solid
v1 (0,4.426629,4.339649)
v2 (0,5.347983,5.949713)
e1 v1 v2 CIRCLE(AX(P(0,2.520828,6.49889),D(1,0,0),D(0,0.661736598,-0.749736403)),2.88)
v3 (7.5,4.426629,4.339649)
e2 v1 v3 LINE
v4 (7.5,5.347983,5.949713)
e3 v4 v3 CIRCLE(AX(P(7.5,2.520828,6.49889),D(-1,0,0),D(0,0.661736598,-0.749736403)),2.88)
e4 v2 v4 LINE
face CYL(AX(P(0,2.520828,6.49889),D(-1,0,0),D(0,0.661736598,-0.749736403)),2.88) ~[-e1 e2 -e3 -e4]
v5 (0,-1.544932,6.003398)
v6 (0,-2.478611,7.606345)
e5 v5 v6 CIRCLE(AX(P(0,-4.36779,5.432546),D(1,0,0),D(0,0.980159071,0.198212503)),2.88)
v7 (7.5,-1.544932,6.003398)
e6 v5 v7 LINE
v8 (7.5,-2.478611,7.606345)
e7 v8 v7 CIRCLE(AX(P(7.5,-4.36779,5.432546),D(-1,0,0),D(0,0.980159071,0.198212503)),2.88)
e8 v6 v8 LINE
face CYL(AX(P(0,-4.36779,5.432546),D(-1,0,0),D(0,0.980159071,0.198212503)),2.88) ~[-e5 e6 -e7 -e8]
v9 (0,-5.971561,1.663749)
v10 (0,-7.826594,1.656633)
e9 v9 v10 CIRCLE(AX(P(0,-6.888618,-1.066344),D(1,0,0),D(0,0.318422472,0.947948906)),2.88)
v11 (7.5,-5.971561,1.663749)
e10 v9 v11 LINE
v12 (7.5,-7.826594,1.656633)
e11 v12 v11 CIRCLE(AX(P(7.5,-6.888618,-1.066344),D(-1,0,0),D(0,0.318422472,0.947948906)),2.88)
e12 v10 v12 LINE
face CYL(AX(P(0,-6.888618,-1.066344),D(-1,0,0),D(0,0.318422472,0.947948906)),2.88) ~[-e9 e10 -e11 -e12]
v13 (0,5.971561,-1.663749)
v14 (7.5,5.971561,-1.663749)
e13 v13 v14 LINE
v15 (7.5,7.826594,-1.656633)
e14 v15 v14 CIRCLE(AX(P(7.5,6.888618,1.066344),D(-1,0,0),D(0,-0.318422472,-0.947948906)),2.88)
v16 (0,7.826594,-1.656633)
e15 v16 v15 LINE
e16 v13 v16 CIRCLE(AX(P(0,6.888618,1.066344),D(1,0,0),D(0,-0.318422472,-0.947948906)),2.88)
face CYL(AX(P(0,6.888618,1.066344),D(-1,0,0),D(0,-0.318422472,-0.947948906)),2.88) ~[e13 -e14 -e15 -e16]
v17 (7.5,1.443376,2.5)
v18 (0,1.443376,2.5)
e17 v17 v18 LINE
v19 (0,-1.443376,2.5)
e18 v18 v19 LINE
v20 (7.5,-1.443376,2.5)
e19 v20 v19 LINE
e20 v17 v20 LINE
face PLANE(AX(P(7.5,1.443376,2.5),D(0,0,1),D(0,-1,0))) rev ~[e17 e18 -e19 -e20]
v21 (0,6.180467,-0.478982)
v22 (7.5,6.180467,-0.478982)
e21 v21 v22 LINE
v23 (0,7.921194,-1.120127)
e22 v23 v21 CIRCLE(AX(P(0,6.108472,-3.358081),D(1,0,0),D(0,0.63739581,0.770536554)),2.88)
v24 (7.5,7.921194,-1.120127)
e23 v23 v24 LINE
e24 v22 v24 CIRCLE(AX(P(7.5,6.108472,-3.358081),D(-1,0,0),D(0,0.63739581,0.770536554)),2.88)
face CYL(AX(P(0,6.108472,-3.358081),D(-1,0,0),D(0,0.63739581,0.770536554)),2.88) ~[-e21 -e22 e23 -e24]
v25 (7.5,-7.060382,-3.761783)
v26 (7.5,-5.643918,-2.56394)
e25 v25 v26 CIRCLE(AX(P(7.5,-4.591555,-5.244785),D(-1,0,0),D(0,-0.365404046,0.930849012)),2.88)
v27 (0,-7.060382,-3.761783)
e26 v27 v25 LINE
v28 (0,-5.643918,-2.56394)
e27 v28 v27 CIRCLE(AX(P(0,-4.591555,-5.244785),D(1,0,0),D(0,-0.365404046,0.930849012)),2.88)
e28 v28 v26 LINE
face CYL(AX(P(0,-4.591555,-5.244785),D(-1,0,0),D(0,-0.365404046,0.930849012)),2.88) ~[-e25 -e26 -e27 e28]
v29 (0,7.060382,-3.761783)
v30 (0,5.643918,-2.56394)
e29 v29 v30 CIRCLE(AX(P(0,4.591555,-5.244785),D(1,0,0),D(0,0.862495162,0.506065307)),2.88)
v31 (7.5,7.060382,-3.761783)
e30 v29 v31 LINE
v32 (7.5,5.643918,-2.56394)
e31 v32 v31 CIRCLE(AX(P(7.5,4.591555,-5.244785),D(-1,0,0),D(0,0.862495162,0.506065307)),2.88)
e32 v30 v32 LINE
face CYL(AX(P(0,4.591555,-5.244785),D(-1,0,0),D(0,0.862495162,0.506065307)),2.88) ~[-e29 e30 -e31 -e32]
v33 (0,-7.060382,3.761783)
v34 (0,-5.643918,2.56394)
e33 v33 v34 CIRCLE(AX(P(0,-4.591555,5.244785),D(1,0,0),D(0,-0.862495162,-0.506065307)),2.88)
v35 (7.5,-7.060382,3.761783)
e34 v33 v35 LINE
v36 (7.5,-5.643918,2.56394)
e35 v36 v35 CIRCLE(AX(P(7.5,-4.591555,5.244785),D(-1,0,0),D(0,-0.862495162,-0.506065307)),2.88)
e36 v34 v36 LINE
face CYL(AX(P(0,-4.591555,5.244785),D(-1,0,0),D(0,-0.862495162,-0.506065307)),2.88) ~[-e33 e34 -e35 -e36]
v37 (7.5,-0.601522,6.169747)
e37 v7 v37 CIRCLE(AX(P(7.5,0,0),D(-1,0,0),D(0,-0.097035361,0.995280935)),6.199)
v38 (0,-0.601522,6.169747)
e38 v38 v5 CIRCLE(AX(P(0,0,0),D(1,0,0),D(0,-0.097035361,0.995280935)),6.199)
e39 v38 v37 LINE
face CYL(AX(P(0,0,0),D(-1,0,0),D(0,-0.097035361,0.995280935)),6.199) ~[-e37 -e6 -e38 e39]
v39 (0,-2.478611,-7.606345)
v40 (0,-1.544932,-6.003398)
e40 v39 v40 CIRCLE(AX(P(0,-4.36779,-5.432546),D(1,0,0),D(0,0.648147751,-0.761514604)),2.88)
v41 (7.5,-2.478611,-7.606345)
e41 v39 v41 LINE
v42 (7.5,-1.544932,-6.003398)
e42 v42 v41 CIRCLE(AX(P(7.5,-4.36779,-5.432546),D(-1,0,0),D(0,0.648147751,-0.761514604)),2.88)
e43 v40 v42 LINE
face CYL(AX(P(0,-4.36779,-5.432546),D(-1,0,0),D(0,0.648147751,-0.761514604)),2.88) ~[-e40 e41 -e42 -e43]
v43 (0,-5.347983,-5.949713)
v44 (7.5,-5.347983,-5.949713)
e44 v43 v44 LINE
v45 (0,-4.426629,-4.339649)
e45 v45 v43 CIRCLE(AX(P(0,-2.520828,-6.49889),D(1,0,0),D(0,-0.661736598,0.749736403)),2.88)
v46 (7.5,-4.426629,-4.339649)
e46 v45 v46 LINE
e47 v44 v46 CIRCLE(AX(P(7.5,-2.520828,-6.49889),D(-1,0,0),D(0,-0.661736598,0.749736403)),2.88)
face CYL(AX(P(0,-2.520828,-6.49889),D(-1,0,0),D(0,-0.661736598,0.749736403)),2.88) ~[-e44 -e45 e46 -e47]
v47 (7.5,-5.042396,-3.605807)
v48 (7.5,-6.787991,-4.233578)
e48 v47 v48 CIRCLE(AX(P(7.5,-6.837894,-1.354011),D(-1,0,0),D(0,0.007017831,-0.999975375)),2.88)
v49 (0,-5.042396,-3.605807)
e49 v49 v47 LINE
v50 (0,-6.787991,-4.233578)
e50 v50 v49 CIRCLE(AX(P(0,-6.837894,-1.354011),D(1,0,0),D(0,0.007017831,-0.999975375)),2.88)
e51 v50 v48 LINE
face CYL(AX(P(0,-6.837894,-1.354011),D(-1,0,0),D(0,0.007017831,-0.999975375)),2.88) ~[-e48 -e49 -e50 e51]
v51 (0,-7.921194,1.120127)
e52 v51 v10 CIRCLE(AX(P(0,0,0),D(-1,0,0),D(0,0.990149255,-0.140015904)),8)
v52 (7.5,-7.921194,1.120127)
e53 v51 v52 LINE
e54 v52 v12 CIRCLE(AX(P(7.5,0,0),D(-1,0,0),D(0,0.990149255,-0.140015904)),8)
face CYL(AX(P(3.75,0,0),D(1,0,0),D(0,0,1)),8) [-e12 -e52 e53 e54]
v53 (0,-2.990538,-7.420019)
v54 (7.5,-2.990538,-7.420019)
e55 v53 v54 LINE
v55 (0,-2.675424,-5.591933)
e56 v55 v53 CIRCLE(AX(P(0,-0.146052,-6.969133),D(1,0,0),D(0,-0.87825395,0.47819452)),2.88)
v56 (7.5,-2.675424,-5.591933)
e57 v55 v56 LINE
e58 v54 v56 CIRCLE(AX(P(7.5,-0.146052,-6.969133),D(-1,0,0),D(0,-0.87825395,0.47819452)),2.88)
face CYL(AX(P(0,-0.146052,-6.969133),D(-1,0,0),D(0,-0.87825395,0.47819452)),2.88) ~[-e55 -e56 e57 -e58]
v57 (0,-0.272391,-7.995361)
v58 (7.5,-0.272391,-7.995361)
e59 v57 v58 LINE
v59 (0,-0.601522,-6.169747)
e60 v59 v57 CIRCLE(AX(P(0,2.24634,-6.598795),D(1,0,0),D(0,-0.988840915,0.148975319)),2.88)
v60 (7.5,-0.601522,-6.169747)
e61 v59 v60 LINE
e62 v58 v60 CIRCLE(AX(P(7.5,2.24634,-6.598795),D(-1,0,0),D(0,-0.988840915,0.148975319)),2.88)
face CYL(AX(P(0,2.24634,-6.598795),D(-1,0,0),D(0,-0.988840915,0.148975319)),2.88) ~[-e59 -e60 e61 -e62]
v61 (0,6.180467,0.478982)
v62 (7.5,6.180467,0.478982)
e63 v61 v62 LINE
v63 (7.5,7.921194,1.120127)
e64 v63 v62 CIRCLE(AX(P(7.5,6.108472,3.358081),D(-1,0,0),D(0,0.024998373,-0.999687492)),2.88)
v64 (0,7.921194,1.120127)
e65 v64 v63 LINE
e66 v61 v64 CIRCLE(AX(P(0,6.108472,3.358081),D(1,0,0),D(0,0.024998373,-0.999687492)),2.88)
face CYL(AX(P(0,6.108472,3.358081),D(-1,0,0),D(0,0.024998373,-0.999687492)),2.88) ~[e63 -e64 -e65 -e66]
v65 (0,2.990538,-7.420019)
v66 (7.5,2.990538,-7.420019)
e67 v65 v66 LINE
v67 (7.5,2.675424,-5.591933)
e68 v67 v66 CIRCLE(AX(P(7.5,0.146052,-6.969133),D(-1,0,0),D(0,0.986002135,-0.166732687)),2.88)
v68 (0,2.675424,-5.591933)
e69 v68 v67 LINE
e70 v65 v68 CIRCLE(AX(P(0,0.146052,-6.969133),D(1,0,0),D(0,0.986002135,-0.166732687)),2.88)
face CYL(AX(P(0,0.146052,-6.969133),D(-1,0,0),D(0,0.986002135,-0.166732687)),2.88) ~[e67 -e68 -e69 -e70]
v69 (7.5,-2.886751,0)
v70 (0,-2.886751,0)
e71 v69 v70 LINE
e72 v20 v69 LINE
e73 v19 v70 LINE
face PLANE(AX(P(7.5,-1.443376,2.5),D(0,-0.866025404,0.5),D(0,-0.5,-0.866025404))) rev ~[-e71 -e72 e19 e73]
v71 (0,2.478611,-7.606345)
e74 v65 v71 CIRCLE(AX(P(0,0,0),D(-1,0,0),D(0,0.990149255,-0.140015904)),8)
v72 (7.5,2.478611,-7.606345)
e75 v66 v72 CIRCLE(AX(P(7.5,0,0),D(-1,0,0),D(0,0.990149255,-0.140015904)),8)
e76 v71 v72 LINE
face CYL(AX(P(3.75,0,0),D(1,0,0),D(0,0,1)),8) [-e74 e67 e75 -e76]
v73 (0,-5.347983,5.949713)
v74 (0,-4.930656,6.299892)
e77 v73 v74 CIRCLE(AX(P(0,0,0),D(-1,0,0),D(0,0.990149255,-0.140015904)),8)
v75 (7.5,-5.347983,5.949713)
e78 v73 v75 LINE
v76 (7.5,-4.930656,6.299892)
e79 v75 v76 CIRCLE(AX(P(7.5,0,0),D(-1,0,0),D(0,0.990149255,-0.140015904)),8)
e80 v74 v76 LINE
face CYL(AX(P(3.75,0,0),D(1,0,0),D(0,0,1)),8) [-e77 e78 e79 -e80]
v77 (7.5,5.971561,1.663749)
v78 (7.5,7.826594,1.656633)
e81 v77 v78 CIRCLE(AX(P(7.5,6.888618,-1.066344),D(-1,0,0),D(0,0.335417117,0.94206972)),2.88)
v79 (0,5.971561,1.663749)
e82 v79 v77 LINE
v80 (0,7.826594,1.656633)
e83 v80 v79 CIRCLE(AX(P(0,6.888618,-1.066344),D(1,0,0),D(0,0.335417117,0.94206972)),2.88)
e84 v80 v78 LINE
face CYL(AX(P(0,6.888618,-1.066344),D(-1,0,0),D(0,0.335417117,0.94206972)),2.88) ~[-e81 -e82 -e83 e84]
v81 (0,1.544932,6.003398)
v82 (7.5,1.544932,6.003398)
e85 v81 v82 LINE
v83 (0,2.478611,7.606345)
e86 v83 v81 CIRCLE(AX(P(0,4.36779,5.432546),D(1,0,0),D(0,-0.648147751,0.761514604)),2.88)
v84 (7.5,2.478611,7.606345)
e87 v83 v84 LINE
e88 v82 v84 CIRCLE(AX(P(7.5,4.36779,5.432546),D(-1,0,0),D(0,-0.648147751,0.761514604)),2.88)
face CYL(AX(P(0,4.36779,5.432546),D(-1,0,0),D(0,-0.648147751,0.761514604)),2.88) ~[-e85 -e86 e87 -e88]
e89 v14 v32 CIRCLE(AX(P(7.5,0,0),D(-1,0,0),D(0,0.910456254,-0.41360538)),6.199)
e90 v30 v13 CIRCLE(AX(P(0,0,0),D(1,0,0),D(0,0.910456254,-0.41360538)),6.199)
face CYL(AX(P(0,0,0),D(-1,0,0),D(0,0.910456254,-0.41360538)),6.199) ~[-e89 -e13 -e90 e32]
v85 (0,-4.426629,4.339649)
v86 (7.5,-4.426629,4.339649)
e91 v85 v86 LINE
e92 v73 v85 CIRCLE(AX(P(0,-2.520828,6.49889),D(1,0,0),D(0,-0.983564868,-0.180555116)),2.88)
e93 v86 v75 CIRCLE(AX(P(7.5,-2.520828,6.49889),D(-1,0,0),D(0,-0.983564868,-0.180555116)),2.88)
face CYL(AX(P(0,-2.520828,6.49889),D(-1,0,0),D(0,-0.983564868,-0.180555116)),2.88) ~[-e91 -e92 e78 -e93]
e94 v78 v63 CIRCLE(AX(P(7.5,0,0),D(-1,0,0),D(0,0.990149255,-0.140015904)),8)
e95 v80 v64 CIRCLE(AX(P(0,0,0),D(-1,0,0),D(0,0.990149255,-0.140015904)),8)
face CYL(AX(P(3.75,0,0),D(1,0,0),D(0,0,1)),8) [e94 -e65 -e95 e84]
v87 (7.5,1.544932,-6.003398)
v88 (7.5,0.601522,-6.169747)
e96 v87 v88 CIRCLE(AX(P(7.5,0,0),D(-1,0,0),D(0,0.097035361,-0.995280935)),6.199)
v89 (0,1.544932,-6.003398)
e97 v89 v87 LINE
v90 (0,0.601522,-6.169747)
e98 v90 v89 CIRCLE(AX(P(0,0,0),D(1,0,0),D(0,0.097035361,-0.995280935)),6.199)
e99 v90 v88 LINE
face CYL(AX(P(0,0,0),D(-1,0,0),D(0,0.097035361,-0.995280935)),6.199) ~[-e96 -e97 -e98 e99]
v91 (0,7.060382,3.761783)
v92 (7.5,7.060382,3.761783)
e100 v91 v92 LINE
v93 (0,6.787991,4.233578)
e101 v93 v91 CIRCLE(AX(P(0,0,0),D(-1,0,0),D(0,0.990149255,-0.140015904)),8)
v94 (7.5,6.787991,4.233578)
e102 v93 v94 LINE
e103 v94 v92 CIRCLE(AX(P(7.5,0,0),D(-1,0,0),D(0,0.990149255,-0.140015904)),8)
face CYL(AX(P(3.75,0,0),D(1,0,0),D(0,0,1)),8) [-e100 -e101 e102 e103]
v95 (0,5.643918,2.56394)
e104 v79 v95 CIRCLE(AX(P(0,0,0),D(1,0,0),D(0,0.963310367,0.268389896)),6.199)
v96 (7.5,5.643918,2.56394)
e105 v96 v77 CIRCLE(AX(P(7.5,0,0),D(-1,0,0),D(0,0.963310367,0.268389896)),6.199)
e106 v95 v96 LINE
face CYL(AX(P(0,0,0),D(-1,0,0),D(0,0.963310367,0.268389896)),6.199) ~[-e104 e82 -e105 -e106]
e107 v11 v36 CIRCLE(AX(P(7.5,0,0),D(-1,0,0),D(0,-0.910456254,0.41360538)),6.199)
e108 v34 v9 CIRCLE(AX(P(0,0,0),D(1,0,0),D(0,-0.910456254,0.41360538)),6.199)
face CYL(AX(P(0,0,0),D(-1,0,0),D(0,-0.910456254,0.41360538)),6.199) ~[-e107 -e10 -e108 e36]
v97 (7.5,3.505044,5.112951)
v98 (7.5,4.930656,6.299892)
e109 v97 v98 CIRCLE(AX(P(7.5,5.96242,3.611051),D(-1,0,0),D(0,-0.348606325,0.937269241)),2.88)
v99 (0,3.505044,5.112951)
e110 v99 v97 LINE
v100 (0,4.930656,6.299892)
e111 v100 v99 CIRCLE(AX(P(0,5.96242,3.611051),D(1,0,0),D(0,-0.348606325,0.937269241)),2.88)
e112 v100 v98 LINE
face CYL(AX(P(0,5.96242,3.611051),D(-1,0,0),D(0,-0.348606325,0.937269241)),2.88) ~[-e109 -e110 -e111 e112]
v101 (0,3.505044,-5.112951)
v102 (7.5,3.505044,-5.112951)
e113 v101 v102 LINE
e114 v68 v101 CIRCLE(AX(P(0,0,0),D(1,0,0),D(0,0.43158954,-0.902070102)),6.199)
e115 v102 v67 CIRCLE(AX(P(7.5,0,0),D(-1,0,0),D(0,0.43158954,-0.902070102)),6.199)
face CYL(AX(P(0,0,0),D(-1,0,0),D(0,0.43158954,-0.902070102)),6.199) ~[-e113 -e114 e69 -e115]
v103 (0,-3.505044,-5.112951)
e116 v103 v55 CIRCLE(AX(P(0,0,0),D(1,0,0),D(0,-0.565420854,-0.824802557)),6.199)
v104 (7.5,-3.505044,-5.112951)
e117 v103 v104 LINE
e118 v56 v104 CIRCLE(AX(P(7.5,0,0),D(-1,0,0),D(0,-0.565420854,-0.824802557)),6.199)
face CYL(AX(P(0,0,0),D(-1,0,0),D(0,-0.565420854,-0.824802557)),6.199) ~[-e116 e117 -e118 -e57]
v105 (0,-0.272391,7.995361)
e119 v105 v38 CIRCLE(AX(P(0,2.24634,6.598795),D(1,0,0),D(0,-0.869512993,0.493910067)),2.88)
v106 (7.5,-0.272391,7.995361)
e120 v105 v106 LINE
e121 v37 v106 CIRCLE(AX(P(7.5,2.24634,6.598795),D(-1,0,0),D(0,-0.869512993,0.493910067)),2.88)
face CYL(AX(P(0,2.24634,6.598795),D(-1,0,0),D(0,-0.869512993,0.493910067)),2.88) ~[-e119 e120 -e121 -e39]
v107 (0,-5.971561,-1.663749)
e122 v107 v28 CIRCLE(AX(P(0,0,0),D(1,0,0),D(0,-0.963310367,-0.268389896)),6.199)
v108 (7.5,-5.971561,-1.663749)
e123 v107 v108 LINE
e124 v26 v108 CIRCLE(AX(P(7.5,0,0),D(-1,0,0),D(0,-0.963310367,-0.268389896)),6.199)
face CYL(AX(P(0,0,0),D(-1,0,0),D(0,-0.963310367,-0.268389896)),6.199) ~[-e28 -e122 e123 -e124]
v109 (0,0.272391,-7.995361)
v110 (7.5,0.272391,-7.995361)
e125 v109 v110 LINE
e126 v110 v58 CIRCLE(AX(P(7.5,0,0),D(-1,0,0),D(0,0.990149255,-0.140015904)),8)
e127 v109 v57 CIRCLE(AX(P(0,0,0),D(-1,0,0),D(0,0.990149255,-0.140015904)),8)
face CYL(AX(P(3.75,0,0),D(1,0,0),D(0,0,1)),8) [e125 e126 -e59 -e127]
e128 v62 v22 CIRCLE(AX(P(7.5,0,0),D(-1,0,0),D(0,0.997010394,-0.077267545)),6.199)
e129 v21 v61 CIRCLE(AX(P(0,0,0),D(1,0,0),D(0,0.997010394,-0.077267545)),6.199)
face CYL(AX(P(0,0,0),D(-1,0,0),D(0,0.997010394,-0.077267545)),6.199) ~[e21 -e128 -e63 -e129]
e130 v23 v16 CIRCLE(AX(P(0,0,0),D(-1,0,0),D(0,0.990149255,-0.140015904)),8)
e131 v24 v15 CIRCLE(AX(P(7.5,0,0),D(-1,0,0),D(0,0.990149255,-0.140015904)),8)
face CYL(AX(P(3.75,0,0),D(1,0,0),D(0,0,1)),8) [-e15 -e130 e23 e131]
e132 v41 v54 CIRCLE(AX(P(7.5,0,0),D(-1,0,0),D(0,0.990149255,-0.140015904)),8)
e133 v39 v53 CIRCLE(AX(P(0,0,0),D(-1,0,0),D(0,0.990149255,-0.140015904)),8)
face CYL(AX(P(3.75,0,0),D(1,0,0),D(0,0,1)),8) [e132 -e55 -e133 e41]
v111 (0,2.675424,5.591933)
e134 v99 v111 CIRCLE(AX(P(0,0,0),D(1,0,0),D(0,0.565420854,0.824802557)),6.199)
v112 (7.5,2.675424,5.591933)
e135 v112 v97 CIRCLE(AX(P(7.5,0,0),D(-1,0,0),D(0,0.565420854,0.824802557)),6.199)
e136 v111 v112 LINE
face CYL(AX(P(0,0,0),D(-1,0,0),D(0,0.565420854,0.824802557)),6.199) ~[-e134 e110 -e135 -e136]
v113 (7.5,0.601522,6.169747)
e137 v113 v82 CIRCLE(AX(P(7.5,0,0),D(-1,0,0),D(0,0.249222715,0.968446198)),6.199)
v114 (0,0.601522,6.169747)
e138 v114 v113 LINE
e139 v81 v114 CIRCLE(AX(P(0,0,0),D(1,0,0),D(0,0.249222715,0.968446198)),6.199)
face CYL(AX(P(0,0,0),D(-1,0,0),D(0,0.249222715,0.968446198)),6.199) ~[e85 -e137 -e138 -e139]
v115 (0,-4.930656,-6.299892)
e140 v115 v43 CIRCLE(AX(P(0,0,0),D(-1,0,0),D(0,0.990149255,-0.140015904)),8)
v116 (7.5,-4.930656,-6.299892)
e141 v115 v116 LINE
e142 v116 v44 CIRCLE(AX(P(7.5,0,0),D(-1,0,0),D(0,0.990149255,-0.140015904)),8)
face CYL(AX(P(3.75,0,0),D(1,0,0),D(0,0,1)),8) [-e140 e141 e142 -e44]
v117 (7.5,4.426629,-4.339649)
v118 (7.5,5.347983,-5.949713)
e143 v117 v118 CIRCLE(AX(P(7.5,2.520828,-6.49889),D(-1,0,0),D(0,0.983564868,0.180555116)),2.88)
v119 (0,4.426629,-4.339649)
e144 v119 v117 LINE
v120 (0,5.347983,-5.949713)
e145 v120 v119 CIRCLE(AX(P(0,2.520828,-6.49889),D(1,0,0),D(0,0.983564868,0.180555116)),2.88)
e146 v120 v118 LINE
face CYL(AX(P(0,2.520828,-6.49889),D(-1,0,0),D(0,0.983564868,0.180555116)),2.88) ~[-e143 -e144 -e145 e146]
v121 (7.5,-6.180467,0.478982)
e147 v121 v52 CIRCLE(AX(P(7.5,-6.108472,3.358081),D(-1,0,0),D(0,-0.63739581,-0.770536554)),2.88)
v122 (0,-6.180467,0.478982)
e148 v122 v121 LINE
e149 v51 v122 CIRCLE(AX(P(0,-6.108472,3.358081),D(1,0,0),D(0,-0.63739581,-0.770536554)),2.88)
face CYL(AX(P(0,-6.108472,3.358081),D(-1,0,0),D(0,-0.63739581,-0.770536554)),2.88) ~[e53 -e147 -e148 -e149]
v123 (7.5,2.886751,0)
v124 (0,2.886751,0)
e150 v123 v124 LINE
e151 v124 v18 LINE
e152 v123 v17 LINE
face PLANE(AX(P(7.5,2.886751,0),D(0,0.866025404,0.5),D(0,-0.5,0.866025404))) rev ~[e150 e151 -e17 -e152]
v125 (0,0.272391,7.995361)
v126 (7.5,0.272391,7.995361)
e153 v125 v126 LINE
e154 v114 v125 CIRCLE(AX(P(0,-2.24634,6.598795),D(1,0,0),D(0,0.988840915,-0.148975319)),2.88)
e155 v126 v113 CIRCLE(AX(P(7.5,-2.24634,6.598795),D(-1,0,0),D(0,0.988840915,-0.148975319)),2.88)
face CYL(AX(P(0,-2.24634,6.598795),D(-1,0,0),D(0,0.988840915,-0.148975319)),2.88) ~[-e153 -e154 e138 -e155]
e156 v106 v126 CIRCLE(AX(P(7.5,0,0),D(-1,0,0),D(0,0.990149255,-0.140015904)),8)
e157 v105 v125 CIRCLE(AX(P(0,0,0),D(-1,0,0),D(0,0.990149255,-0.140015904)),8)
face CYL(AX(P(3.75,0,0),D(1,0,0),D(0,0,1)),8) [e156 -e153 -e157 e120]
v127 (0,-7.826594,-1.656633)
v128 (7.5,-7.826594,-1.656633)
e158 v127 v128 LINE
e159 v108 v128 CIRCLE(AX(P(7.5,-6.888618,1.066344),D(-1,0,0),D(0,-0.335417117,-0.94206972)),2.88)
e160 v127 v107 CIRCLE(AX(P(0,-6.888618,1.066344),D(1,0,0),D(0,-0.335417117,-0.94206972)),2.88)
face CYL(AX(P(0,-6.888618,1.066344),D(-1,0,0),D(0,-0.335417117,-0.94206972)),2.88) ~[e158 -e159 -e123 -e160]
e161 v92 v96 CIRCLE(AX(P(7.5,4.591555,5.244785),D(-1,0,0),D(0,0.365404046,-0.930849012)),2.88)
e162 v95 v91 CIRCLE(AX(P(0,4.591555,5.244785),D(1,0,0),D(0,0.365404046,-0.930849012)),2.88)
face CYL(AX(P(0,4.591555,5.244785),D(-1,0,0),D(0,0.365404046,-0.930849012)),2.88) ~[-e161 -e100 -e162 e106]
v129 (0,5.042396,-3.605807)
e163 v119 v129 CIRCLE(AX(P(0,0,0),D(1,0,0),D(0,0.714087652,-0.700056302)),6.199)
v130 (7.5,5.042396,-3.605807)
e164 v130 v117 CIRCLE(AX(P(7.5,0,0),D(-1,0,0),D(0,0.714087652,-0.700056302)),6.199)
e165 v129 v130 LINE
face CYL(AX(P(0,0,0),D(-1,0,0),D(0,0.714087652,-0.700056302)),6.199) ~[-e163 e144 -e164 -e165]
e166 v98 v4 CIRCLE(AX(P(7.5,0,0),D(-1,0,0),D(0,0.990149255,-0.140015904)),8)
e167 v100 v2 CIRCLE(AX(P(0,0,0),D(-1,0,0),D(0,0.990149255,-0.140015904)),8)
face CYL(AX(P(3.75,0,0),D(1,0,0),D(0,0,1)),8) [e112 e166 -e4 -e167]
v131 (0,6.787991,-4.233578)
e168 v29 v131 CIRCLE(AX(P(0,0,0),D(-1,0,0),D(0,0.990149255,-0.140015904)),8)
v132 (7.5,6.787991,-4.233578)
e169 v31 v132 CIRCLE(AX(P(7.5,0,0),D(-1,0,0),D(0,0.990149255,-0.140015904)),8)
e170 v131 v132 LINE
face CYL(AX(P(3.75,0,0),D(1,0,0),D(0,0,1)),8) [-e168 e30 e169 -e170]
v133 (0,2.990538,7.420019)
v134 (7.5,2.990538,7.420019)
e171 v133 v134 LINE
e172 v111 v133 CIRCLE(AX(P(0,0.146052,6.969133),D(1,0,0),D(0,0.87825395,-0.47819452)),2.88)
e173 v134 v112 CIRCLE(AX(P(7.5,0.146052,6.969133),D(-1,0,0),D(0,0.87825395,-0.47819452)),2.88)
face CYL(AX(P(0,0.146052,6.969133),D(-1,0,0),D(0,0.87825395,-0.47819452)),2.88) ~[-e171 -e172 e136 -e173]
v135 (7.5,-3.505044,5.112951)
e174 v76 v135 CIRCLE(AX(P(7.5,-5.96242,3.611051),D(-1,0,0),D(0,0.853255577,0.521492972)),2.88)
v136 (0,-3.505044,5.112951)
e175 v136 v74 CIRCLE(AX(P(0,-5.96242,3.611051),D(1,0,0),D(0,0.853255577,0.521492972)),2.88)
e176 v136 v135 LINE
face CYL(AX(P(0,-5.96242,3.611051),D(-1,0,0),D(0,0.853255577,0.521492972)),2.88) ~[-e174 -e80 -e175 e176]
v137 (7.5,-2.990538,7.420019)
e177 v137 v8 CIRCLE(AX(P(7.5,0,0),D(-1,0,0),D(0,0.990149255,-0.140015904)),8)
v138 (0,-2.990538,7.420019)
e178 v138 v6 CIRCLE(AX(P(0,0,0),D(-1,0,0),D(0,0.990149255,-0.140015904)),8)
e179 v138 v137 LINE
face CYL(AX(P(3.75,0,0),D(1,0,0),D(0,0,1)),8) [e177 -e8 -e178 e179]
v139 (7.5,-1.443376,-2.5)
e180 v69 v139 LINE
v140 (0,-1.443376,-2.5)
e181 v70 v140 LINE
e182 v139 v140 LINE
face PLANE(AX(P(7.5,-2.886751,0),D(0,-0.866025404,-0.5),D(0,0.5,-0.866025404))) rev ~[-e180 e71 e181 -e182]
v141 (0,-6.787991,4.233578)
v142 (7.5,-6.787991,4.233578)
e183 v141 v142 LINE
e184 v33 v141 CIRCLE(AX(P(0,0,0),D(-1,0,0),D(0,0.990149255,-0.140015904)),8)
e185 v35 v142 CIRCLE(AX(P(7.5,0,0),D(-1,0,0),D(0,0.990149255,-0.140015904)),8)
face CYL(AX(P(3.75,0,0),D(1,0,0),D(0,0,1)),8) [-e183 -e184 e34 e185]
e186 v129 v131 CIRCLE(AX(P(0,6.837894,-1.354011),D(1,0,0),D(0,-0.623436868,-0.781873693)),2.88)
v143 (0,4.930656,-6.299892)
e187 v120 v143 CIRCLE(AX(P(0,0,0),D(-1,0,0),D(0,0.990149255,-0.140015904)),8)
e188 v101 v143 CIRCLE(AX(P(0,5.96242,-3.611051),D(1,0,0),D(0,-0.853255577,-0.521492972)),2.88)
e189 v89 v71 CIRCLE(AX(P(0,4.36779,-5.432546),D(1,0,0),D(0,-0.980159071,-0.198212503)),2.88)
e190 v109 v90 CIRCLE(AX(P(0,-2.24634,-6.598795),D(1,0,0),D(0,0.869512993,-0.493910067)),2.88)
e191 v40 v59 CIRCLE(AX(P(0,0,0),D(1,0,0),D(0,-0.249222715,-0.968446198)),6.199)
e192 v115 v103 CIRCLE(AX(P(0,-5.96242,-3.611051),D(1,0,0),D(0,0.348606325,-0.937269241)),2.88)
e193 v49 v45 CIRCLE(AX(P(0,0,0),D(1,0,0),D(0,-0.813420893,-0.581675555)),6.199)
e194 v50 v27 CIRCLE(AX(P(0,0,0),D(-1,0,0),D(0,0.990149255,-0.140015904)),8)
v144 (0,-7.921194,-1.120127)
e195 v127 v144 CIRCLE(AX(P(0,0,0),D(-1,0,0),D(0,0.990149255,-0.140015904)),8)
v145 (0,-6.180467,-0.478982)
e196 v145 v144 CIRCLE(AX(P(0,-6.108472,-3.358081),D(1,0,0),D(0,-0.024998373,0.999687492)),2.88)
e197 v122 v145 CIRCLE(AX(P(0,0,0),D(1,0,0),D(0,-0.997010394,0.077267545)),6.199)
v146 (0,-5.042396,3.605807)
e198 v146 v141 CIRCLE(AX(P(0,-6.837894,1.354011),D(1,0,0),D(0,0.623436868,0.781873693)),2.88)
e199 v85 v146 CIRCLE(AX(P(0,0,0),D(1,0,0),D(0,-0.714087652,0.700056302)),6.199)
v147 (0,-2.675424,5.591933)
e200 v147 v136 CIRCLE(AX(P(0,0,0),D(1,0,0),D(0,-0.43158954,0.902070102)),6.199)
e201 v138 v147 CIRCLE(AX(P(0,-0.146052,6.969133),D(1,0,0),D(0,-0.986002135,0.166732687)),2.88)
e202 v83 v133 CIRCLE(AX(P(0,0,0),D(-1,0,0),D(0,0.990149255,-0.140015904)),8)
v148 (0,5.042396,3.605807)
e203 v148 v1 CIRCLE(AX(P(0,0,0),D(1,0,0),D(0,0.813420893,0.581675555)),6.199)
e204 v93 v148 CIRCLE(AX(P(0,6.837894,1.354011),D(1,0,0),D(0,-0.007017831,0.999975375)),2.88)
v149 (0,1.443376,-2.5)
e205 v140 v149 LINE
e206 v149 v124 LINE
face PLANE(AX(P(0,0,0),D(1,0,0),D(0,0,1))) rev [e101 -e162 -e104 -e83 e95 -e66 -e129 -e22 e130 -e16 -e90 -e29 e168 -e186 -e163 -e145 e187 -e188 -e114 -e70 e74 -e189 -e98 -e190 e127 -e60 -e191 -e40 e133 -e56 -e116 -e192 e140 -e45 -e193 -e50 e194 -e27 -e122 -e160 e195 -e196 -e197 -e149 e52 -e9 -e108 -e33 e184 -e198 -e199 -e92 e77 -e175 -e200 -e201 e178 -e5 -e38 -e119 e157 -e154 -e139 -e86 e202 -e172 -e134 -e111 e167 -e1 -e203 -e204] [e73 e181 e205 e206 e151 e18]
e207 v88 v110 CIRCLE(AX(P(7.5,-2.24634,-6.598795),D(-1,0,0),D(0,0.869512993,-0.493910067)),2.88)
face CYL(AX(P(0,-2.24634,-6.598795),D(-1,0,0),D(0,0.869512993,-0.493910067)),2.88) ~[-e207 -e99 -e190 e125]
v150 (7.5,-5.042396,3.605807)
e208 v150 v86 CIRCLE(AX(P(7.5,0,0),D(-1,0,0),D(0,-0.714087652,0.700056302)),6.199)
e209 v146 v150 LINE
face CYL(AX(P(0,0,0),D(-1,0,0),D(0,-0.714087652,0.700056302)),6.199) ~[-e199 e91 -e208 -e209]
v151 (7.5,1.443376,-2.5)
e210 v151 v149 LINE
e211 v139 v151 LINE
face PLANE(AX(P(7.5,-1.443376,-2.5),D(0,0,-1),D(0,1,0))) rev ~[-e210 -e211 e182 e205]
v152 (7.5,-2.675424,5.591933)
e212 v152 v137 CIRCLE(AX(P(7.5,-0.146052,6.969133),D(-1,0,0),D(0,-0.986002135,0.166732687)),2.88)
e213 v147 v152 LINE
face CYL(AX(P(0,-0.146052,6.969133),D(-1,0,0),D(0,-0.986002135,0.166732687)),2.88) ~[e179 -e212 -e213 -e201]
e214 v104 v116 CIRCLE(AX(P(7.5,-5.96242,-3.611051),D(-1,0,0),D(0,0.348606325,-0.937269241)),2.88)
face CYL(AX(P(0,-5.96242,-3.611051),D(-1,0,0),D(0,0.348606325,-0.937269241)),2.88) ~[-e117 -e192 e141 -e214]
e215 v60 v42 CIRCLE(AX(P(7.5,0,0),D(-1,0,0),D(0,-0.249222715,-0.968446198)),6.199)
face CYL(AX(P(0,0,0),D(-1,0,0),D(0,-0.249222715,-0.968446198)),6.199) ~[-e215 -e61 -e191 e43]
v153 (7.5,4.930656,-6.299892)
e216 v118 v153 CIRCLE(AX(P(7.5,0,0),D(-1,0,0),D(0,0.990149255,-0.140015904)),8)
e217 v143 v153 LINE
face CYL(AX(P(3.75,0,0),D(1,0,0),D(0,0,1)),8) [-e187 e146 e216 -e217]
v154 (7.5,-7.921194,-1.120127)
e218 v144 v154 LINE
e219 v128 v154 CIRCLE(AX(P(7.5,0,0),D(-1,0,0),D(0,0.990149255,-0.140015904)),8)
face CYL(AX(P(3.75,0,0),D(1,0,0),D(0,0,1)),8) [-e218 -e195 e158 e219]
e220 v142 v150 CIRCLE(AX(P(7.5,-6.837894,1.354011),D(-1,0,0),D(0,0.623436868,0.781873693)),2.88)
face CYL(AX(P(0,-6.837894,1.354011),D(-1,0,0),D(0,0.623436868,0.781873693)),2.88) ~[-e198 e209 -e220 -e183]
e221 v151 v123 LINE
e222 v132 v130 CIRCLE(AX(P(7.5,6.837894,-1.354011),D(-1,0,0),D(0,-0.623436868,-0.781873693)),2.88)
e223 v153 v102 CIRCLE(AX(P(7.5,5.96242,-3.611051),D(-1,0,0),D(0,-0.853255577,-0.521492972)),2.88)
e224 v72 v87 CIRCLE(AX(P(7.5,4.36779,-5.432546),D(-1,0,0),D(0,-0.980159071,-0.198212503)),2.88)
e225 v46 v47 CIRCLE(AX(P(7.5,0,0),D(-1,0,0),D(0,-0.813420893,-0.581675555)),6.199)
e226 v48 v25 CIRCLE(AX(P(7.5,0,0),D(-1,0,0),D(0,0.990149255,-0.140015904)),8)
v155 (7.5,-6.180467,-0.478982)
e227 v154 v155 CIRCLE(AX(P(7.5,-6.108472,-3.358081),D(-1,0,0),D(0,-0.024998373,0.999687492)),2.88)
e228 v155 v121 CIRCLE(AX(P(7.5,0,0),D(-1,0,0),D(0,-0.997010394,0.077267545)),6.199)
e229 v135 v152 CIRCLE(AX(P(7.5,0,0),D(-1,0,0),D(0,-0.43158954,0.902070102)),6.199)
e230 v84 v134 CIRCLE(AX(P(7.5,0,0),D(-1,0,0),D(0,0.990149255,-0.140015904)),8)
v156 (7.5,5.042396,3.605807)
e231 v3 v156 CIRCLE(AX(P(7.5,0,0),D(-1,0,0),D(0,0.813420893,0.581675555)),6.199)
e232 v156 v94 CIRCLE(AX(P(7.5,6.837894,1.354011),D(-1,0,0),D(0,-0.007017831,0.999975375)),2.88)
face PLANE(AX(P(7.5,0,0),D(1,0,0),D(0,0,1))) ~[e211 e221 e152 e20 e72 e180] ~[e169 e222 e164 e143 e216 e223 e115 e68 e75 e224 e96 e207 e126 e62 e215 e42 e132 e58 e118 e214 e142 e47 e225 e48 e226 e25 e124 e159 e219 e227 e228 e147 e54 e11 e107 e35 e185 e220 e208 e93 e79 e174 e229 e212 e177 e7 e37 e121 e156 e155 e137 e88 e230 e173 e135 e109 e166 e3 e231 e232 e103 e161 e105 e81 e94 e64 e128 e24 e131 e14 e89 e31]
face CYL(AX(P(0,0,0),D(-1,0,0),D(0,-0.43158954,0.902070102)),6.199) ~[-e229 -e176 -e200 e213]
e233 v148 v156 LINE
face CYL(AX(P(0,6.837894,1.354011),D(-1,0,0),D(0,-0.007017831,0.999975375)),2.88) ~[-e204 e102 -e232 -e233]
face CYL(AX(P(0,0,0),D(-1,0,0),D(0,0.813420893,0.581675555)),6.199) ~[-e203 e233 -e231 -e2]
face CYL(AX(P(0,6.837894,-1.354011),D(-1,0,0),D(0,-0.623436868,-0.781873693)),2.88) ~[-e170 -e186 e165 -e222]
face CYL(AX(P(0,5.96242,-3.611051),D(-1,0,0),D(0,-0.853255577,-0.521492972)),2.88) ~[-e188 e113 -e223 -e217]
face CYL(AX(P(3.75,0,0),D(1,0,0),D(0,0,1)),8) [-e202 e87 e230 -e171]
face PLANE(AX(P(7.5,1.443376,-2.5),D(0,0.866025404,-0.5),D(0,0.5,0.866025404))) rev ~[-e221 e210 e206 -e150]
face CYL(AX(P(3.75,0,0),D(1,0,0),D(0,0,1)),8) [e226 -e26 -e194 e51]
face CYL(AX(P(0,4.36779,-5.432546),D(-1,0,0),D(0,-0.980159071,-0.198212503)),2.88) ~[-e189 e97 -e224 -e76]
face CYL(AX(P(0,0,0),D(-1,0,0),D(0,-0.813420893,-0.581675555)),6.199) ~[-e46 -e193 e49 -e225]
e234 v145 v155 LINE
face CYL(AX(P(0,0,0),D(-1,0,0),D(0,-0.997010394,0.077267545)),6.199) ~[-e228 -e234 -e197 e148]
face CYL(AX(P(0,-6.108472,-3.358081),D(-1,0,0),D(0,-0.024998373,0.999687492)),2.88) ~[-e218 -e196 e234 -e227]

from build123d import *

# Parameters (mm, degrees)
BASPROSKE_W              = 7.5
BASPROSKE_H              = 8
TOOTHCUT_DEPTH           = 14.57387196
TEETHCUTS_COUNT          = 18
TEETHCUTS_ANGLE          = 340
BORSKE_R                 = 2.5
BORE_DEPTH               = 50.0000508
TAGLIO_ESTRUSIONE1_DEPTH = 10


with BuildPart() as part:
    # BasProSke → Base-Revolve (revolve)
    with BuildSketch(Plane(origin=(0, 0, 0), x_dir=(1, 0, 0), z_dir=(0, 1, 0)), mode=Mode.PRIVATE) as base_revolve_sk:
        with Locations((3.75, 4)):
            Rectangle(BASPROSKE_W, BASPROSKE_H)
    revolve(base_revolve_sk.sketch.rotate(Axis((-10, 0, 0), (1, 0, 0)), 180), axis=Axis((-10, 0, 0), (1, 0, 0)))

    # TooCutSke → ToothCut (cut, through all)
    with BuildSketch(Plane(origin=(0, 0, 0), x_dir=(0, 0, -1), z_dir=(1, 0, 0))):
        with BuildLine():
            ThreePointArc((0.478981505, 6.180467435), (0, 6.199), (-0.478981505, 6.180467435))
            ThreePointArc((-0.478981505, 6.180467435), (-0.660732846, 7.117783932), (-1.138936203, 7.944172045))
            ThreePointArc((-1.138936203, 7.944172045), (0, 8.0254), (1.138936203, 7.944172045))
            ThreePointArc((1.138936203, 7.944172045), (0.660732846, 7.117783932), (0.478981505, 6.180467435))
        make_face()
    toothcut = extrude(amount=TOOTHCUT_DEPTH, mode=Mode.SUBTRACT)

    # TeethCuts: ToothCut ×18 about axis
    teethcuts_axis = Axis((-10, 0, 0), (1, 0, 0))
    for i in range(1, TEETHCUTS_COUNT):
        add(toothcut.rotate(teethcuts_axis, i * TEETHCUTS_ANGLE / (TEETHCUTS_COUNT - 1)), mode=Mode.SUBTRACT)

    # BorSke → Bore (cut, symmetric)
    with BuildSketch(Plane(origin=(0, 0, 0), x_dir=(0, 0, -1), z_dir=(1, 0, 0))):
        with Locations(Location((0, 0, 0), (0, 0, 180))):
            Circle(BORSKE_R)
    extrude(amount=BORE_DEPTH, both=True, mode=Mode.SUBTRACT)

    # Schizzo2 → Taglio-Estrusione1 (cut)
    with BuildSketch(Plane(origin=(7.5, 0, 0), x_dir=(0, 0, -1), z_dir=(1, 0, 0))):
        Polygon((0, 2.886751346), (-2.5, 1.443375673), (-2.5, -1.443375673), (0, -2.886751346), (2.5, -1.443375673), (2.5, 1.443375673), align=None)
    extrude(amount=-TAGLIO_ESTRUSIONE1_DEPTH, mode=Mode.SUBTRACT)


solid = part.part
